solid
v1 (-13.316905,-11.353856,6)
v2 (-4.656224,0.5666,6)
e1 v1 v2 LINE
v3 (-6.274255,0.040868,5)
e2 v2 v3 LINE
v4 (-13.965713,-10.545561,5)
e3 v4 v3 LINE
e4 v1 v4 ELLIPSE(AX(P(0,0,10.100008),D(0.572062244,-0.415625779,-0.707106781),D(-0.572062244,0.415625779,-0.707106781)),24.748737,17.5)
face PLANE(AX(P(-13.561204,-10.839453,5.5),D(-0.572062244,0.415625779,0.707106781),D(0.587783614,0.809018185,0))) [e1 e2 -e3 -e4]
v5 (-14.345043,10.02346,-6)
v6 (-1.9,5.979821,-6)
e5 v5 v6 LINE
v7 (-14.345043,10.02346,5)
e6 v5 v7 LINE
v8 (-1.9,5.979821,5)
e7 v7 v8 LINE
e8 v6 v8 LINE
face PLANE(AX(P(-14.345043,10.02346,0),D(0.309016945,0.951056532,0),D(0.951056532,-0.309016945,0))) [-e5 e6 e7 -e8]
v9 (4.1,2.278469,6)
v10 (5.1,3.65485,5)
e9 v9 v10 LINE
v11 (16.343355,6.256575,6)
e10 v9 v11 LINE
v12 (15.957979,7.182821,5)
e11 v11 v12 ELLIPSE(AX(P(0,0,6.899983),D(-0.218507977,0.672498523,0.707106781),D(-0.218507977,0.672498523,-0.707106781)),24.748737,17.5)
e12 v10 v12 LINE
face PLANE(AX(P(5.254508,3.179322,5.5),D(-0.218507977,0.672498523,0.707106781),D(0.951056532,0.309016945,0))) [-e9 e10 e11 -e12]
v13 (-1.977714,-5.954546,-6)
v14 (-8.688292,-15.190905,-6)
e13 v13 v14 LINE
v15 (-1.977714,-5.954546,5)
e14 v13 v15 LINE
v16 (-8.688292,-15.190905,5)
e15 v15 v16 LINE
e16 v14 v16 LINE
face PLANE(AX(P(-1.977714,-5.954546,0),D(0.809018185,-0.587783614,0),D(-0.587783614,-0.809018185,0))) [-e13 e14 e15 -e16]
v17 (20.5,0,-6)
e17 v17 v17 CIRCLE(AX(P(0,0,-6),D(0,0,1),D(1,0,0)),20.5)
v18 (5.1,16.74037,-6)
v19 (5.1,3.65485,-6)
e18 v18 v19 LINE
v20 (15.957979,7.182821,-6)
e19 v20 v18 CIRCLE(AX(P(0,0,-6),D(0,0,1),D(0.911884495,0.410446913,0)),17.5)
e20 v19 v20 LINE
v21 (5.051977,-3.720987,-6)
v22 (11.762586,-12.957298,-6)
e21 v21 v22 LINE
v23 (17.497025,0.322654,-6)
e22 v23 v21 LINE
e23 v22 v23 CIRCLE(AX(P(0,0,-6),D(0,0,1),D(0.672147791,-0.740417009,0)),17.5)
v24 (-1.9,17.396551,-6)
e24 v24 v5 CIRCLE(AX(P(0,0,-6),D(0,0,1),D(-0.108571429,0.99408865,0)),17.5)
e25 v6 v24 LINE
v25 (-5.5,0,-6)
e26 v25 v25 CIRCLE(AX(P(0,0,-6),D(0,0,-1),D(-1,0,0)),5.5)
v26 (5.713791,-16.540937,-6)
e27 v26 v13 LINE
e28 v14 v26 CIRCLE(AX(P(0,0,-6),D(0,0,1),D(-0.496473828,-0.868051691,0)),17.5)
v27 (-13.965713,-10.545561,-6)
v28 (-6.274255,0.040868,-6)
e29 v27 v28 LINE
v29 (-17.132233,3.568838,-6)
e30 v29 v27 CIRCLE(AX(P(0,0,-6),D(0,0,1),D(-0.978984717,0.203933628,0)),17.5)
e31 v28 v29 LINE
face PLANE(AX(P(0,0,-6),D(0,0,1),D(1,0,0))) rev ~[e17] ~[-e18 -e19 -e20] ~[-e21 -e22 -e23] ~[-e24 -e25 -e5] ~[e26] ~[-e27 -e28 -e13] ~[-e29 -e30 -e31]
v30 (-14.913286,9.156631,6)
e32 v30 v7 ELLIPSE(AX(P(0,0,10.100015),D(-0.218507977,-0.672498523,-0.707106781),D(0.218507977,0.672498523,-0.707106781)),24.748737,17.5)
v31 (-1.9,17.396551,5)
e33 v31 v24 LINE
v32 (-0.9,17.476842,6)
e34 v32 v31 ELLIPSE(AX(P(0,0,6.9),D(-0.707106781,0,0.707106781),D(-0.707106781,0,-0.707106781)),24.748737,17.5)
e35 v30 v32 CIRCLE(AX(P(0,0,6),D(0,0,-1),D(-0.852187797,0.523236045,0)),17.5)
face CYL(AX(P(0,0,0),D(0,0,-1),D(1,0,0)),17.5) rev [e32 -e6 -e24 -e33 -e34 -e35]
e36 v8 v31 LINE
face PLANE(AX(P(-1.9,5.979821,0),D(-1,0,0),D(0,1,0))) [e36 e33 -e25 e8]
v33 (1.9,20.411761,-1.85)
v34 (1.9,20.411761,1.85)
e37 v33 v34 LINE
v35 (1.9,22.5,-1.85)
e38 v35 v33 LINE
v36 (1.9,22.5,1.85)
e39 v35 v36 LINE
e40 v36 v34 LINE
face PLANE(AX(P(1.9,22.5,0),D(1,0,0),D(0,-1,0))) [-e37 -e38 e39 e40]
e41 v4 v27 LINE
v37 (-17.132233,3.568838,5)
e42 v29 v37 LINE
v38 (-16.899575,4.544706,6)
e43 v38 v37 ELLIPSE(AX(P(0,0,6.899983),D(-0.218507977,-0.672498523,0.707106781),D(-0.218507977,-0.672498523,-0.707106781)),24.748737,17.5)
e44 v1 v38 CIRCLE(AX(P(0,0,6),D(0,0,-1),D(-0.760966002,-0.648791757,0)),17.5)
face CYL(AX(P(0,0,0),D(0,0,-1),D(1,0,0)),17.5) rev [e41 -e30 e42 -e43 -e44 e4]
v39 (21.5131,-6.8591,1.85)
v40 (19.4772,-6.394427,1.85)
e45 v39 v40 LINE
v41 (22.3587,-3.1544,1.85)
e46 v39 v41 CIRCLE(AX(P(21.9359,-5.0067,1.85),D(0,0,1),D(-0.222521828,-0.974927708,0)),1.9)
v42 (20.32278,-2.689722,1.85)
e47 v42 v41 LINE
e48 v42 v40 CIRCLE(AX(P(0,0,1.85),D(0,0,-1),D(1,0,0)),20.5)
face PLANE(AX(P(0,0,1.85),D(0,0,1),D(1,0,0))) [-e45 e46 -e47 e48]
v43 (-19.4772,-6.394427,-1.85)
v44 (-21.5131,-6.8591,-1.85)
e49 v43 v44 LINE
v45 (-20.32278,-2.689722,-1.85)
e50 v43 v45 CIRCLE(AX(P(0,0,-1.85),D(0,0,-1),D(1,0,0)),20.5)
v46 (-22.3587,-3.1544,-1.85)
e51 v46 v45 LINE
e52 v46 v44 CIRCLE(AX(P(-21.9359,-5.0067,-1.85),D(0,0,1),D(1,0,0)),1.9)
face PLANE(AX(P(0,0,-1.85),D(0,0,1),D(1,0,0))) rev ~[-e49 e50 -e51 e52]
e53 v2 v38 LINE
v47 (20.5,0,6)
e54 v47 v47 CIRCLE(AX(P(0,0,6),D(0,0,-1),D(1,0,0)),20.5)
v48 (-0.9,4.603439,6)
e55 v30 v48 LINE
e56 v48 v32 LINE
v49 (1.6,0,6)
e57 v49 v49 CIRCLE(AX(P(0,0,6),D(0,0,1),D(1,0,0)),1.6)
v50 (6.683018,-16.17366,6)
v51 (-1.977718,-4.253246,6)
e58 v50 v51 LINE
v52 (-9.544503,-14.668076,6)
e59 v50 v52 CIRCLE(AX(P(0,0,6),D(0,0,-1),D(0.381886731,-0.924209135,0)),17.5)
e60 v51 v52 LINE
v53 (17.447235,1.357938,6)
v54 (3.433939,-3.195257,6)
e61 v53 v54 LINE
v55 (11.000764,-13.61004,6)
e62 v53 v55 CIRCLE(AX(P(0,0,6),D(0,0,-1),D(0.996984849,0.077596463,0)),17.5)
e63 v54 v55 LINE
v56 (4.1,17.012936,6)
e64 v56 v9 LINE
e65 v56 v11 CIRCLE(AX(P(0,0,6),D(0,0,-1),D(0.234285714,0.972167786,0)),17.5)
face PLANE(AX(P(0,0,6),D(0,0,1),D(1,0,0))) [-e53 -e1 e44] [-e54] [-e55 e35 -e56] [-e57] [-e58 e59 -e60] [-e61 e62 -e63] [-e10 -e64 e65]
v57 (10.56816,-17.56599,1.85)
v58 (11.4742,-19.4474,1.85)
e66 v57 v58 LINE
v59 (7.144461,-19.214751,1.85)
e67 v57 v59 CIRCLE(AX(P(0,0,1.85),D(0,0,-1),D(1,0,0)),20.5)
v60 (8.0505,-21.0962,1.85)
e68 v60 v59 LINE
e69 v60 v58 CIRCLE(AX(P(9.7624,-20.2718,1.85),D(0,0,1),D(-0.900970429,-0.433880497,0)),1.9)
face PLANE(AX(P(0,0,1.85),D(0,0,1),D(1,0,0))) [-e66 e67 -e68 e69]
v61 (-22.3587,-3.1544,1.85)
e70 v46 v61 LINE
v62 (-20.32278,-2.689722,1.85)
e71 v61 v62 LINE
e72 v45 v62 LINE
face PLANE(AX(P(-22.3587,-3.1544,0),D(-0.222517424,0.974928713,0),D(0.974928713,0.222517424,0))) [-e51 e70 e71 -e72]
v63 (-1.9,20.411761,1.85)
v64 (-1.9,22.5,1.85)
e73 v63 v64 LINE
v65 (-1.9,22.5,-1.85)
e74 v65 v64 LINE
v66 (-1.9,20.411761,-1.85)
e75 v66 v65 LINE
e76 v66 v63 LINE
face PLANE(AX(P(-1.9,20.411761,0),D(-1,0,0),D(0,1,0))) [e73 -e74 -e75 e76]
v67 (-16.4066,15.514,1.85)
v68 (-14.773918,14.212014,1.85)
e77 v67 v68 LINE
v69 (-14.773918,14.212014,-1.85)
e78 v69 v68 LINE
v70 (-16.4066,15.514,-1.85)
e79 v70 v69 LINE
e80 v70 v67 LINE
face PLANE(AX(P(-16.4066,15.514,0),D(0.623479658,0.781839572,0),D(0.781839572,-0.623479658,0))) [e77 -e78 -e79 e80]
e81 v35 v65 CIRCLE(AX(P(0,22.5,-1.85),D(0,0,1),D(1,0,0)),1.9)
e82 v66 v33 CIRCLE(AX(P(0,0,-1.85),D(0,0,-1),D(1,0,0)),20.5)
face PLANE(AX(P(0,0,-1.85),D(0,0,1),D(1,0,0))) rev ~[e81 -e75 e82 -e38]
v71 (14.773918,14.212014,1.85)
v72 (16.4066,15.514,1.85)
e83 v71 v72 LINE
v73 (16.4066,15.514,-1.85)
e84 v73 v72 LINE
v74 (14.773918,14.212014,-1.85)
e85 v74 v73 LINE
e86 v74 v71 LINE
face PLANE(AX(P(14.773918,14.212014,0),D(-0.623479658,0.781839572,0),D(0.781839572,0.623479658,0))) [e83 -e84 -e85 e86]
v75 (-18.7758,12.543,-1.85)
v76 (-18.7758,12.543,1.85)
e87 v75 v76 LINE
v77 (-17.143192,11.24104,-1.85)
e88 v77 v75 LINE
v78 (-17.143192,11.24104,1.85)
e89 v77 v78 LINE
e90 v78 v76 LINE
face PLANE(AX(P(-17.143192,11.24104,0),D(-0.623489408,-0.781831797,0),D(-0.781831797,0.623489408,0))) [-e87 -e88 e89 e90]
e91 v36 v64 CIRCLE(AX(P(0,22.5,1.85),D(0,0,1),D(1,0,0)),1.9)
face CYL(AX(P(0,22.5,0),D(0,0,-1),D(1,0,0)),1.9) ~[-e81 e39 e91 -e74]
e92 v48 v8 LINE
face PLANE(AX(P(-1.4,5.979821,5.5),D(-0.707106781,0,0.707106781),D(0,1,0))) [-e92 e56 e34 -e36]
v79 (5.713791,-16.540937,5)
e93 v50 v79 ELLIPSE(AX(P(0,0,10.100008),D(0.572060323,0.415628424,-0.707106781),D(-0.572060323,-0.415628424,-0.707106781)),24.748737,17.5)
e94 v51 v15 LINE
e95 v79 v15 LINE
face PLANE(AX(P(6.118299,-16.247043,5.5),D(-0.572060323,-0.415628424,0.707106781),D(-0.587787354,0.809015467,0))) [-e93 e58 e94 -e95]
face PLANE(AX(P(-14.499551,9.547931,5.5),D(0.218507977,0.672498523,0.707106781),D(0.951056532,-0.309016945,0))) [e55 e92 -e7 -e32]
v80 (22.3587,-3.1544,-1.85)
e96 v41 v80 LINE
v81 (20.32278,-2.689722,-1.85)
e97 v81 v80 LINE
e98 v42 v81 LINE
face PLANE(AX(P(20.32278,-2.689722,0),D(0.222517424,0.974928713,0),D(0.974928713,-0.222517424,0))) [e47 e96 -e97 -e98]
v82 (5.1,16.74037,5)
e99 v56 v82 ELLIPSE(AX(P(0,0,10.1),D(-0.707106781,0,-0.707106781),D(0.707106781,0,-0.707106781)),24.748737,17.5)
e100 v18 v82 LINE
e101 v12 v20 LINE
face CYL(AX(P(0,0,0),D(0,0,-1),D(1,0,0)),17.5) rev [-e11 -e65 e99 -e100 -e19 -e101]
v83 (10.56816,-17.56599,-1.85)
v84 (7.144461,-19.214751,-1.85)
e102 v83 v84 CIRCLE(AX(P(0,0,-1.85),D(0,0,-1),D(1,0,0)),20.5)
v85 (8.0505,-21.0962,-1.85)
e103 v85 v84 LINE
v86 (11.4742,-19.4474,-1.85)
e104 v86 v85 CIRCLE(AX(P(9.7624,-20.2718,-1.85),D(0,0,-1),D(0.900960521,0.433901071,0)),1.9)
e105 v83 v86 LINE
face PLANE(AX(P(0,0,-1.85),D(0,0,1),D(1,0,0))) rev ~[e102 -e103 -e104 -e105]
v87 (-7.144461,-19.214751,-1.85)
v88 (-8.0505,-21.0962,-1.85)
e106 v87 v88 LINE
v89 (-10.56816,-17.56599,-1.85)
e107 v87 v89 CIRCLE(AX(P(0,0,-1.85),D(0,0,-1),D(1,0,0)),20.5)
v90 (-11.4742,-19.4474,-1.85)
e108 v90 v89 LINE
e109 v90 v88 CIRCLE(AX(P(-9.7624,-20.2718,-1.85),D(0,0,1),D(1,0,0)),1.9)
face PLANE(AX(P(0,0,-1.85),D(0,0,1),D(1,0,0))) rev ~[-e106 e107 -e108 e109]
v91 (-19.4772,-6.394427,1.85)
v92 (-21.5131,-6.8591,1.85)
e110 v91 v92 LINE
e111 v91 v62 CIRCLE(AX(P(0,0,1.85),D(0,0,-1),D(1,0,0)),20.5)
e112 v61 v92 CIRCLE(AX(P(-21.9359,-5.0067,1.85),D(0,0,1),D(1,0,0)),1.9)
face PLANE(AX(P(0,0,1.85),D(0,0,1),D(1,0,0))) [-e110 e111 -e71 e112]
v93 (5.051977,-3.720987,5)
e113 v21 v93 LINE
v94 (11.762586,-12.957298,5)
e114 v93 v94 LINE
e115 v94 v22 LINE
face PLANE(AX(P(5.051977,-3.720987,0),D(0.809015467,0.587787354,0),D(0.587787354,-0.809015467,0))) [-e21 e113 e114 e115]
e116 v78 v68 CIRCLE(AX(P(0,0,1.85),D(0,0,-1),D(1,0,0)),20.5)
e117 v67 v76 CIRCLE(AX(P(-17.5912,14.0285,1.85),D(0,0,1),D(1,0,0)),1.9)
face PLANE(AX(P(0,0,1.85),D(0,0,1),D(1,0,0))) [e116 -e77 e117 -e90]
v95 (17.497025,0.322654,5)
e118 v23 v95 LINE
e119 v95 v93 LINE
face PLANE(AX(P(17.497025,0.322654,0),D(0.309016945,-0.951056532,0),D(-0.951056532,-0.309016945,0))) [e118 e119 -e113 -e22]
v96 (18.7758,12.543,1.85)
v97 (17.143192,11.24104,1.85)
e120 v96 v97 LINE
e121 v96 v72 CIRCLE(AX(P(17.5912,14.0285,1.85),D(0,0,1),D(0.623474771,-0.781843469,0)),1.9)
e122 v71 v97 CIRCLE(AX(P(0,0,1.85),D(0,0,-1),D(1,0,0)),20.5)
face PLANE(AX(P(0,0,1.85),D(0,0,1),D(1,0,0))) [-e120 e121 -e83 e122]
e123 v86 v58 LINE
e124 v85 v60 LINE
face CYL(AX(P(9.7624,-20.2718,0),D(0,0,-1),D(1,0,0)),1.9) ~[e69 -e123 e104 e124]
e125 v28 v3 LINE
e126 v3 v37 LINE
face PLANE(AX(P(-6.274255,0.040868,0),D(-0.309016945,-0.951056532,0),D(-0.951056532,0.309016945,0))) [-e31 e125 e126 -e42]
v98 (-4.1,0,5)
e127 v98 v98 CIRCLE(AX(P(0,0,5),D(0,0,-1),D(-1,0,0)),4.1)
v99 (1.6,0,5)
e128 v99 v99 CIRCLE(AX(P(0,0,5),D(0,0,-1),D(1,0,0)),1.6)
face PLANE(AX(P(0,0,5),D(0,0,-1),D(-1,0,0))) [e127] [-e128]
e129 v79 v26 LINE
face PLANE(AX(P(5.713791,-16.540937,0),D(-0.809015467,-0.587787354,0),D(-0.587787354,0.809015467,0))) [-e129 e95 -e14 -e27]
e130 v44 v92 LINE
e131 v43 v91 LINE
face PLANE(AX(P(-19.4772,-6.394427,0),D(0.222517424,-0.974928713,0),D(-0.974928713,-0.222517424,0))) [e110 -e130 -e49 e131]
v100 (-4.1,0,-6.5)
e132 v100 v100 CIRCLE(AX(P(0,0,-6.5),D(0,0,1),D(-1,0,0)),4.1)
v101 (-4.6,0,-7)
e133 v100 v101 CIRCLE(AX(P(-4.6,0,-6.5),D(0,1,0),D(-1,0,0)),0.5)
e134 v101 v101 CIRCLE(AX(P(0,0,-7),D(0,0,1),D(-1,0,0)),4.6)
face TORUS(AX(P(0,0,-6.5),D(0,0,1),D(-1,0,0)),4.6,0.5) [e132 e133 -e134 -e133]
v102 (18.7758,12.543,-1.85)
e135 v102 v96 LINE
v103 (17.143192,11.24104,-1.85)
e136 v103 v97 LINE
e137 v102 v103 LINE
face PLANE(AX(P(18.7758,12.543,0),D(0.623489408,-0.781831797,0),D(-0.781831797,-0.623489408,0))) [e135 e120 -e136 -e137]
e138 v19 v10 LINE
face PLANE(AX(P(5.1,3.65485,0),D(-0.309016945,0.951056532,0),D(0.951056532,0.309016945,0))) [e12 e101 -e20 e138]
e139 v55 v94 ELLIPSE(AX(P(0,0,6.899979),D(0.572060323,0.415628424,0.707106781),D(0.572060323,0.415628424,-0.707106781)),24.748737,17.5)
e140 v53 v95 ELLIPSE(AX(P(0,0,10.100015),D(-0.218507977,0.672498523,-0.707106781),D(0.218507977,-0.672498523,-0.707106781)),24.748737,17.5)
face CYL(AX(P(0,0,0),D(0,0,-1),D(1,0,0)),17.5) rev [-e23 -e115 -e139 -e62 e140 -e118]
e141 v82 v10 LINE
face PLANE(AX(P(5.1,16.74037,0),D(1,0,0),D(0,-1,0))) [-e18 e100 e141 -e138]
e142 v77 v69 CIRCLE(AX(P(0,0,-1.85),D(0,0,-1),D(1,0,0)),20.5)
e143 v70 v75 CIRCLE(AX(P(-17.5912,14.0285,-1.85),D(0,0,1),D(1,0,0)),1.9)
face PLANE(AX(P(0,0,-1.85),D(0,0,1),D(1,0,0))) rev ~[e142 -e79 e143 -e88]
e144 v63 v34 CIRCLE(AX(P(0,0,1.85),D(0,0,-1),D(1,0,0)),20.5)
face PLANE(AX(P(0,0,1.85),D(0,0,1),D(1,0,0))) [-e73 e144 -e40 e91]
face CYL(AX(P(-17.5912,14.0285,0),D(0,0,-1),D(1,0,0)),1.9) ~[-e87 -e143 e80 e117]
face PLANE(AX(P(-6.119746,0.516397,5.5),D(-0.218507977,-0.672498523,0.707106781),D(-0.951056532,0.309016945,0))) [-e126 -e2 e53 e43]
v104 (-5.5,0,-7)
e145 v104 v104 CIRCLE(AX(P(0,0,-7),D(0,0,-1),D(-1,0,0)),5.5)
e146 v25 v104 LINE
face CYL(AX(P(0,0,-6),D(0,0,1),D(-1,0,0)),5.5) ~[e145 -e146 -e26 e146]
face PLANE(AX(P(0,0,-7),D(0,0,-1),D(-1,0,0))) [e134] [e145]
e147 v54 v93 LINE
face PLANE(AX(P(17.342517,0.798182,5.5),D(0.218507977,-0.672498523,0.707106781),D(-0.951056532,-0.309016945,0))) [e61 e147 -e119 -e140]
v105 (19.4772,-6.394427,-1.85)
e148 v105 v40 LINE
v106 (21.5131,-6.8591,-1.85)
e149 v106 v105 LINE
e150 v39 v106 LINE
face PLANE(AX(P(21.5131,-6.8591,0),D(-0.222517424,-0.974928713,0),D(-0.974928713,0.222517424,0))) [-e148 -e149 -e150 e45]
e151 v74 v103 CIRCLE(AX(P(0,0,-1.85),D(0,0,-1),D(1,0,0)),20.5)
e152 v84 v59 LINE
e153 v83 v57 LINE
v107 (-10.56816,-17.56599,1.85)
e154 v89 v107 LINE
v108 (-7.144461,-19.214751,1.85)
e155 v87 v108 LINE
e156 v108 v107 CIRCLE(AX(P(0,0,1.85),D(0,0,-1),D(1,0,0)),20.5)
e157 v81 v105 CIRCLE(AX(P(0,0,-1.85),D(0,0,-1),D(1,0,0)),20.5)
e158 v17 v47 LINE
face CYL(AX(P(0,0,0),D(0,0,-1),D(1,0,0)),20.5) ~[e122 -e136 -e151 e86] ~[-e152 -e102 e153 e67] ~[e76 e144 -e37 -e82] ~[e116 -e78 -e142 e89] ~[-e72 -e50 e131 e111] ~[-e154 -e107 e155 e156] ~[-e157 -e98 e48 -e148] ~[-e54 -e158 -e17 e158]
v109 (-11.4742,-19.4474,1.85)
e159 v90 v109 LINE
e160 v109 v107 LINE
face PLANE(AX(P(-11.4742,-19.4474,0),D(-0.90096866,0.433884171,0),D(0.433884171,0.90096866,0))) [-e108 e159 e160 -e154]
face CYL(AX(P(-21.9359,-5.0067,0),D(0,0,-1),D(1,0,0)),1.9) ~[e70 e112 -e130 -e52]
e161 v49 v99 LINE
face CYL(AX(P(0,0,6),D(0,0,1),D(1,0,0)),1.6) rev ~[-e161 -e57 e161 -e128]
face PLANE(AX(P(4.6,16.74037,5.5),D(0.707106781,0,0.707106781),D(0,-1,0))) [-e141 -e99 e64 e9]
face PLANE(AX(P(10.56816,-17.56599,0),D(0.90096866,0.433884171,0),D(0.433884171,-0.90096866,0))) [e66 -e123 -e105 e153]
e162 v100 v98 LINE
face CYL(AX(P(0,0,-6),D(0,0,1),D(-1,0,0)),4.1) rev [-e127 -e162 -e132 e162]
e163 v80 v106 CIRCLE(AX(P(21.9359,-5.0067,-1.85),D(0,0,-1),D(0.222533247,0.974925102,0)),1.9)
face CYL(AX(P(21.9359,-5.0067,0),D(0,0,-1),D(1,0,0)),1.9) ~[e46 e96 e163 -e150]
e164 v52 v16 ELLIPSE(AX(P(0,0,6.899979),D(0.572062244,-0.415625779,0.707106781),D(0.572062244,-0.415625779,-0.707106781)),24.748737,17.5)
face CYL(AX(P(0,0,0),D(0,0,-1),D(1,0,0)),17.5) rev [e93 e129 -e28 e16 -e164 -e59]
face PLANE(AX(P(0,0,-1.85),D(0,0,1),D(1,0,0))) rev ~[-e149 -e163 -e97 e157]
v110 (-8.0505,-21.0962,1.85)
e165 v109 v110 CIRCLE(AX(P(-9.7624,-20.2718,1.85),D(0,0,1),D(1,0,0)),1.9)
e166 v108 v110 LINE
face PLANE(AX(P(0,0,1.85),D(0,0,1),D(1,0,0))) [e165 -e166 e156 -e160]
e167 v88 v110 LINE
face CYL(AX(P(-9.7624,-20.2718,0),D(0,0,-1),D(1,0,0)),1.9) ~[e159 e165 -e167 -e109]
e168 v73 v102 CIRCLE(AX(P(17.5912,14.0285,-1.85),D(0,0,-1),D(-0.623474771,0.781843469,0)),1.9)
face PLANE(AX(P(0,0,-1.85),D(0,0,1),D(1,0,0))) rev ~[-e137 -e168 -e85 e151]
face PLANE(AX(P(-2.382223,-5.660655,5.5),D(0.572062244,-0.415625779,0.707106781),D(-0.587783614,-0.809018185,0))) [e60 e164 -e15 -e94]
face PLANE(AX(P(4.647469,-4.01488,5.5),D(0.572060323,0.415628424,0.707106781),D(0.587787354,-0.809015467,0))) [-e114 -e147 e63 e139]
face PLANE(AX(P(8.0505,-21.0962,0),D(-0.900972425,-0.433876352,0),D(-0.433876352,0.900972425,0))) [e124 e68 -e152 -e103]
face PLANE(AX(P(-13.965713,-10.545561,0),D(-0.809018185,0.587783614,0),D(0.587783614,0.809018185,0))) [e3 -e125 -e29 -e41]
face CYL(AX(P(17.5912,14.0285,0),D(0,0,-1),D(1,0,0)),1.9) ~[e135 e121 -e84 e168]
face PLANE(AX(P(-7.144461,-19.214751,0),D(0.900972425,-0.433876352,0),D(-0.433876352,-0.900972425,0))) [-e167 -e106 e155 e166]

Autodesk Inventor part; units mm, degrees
ref_plane "YZ Plane" through (0, 0, 0) normal (1, 0, 0) x (0, 1, 0)
ref_plane "XZ Plane" through (0, 0, 0) normal (0, 1, 0) x (-1, 0, 0)
ref_plane "XY Plane" through (0, 0, 0) normal (0, 0, 1) x (1, 0, 0)
sketch "Sketch1" plane through (0, 0, 0) normal (0, 0, 1) x (1, 0, 0)
  circle A0 centre (0, 0) radius 20.5
  circle A1 centre (0, 0) radius 17.5
  line L0 (-1.9, 17.5) -> (1.9, 17.5)
  line L1 (-1.9, 17.5) -> (-1.9, 22.5)
  line L2 (-1.9, 22.5) -> (1.9, 22.5)
  line L3 (1.9, 22.5) -> (1.9, 17.5)
  circle A2 centre (0, 22.5) radius 1.9
  circle A3 centre (-17.5912, 14.0285) radius 1.9
  line L4 (-16.4066, 15.514) -> (-12.4974, 12.3966)
  line L5 (-18.7758, 12.543) -> (-16.4066, 15.514)
  line L6 (-14.8667, 9.4256) -> (-18.7758, 12.543)
  line L7 (-14.8667, 9.4256) -> (-12.4974, 12.3966)
  circle A4 centre (-21.9359, -5.0067) radius 1.9
  line L8 (-22.3587, -3.1544) -> (-17.484, -2.0418)
  line L9 (-21.5131, -6.8591) -> (-22.3587, -3.1544)
  line L10 (-16.6384, -5.7465) -> (-21.5131, -6.8591)
  line L11 (-16.6384, -5.7465) -> (-17.484, -2.0418)
  circle A5 centre (-9.7624, -20.2718) radius 1.9
  line L12 (-11.4742, -19.4474) -> (-9.3048, -14.9426)
  line L13 (-8.0505, -21.0962) -> (-11.4742, -19.4474)
  line L14 (-5.8811, -16.5913) -> (-8.0505, -21.0962)
  line L15 (-5.8811, -16.5913) -> (-9.3048, -14.9426)
  circle A6 centre (9.7624, -20.2718) radius 1.9
  line L16 (8.0505, -21.0962) -> (5.8811, -16.5913)
  line L17 (11.4742, -19.4474) -> (8.0505, -21.0962)
  line L18 (9.3048, -14.9426) -> (11.4742, -19.4474)
  line L19 (9.3048, -14.9426) -> (5.8811, -16.5913)
  circle A7 centre (21.9359, -5.0067) radius 1.9
  line L20 (21.5131, -6.8591) -> (16.6384, -5.7465)
  line L21 (22.3587, -3.1544) -> (21.5131, -6.8591)
  line L22 (17.484, -2.0418) -> (22.3587, -3.1544)
  line L23 (17.484, -2.0418) -> (16.6384, -5.7465)
  circle A8 centre (17.5912, 14.0285) radius 1.9
  line L24 (18.7758, 12.543) -> (14.8667, 9.4256)
  line L25 (16.4066, 15.514) -> (18.7758, 12.543)
  line L26 (12.4974, 12.3966) -> (16.4066, 15.514)
  line L27 (12.4974, 12.3966) -> (14.8667, 9.4256)
  line L28 (-1.9, 17.5) -> (5.1, 17.5)
  line L29 (5.1, 17.5) -> (5.1, 0)
  line L30 (5.1, 0) -> (-1.9, 0)
  line L31 (-1.9, 0) -> (-1.9, 17.5)
  line L32 (-0.5871, -1.807) -> (-17.2306, 3.6008)
  line L33 (-17.2306, 3.6008) -> (-15.0675, 10.2582)
  line L34 (-15.0675, 10.2582) -> (1.576, 4.8504)
  line L35 (1.576, 4.8504) -> (-0.5871, -1.807)
  line L36 (1.5371, -1.1168) -> (-8.7491, -15.2746)
  line L37 (-8.7491, -15.2746) -> (-14.4122, -11.1601)
  line L38 (-14.4122, -11.1601) -> (-4.126, 2.9977)
  line L39 (-4.126, 2.9977) -> (1.5371, -1.1168)
  line L40 (1.5371, 1.1168) -> (11.8234, -13.041)
  line L41 (11.8234, -13.041) -> (6.1603, -17.1555)
  line L42 (6.1603, -17.1555) -> (-4.126, -2.9977)
  line L43 (-4.126, -2.9977) -> (1.5371, 1.1168)
  line L44 (-0.5871, 1.807) -> (16.0564, 7.2148)
  line L45 (16.0564, 7.2148) -> (18.2195, 0.5574)
  line L46 (18.2195, 0.5574) -> (1.576, -4.8504)
  line L47 (1.576, -4.8504) -> (-0.5871, 1.807)
  point P0 (-17.1432, 11.241)
  point P1 (-20.3228, -2.6897)
  point P2 (-21.5131, -6.8591)
  point P3 (-19.4772, -6.3944)
  point P4 (-10.5682, -17.566)
  point P5 (-7.1445, -19.2147)
  point P6 (7.1445, -19.2147)
  point P7 (10.5682, -17.566)
  point P8 (19.4772, -6.3944)
  point P9 (22.3587, -3.1544)
  point P10 (20.3228, -2.6897)
  point P11 (17.1432, 11.241)
  point P12 (16.4066, 15.514)
  point P13 (14.7739, 14.212)
  point P14 (1.9, 20.4118)
  point P15 (-1.9, 20.4118)
  point P16 (-14.7739, 14.212)
  point P17 (-17.1322, 3.5688)
  point P18 (-6.2743, 0.0409)
  point P19 (-13.9657, -10.5455)
  point P20 (11.7626, -12.9573)
  point P21 (5.052, -3.721)
  point P22 (17.497, 0.3227)
  point P23 (15.958, 7.1828)
  point P24 (5.1, 3.6549)
  point P25 (5.1, 16.7404)
  point P26 (-8.6883, -15.1909)
  point P27 (-1.9777, -5.9546)
  point P28 (5.7138, -16.5409)
  point P29 (-1.9, 17.3966)
  point P30 (-1.9, 5.9798)
  point P31 (-14.3451, 10.0234)
  point P32 (16.4066, 15.514)
  point P33 (22.3587, -3.1544)
  point P34 (11.4742, -19.4474)
  point P35 (-21.5131, -6.8591)
  dimension "d0" = 35
  dimension "d1" = 41
  dimension "d2" = 3.8
  dimension "d4" = 1.9
  dimension "d5" = 17.5
  dimension "d6" = 5
  dimension "d7" = 3.8
  dimension "d11" = 360
  dimension "d13" = 7
  dimension "d14" = 17.5
  dimension "d17" = 360
extrude "Extrusion1" add sketch "Sketch1" along normal mid plane 12 contours A0 L22 L23 A1 L46 L45 L44 L27 L24 | L24 L27 L26 A0 | A0 L20 L23 L22 | L26 L27 A1 L29 L28 L3 A0 | A0 L18 L19 L41 L40 A1 L23 L20 | L3 L0 L1 A0 | A0 L16 L42 L41 L19 L18 | L1 L31 A1 L7 L4 A0 | L28 L29 A1 L0 | L44 L45 A1 | A1 L46 L40 L30 L29 L44 | L29 L44 L35 L34 L31 A1 | A0 L14 L15 A1 L42 L16 | L40 L41 A1 | A1 L42 L36 L47 L46 L40 | L4 L7 L34 L33 L6 A0 | L0 A1 L31 | L45 L46 A1 | L29 L30 L40 L43 L35 L44 | A0 L12 L15 L37 L36 L14 | L42 A1 L19 L16 | L16 L19 L41 L42 | L19 A1 L41 | L46 L47 L36 L39 L30 L40 | L6 L33 L32 A1 L11 L8 A0 | L44 L47 L39 L31 L34 L35 | L35 L47 L44 | A0 L10 L11 A1 L38 L37 L15 L12 | L30 L43 L40 | L8 L11 L10 A0 | L33 L34 L7 L6 | L6 L7 L34 A1 L33 | A1 L34 L7 | L31 L39 L38 L32 A1 L34 | L43 L32 L38 L39 L31 L30 | L47 L36 L42 L43 L32 L35 | L30 L31 L39 | L35 L32 L43 | L39 L36 L47 | L15 L36 A1 | L36 A1 L38 L32 L43 L42 | A1 L32 L33 | L37 A1 L36 L15 | L15 L36 L37 | L37 L38 A1
extrude "Extrusion2" add sketch "Sketch1" along normal mid plane 3.7 contours A0 L22 L23 A1 L46 L45 L44 L27 L24 | L24 L27 L26 A0 | A0 L26 A8 L24 | L22 A7 L20 A0 | A0 L20 L23 L22 | L26 L27 A1 L29 L28 L3 A0 | L25 A8 | A8 L25 | A0 L18 L19 L41 L40 A1 L23 L20 | L21 A7 | A7 L21 | L3 L0 L1 A0 | A0 L1 A2 L3 | L18 A6 L16 A0 | A0 L16 L42 L41 L19 L18 | L1 L31 A1 L7 L4 A0 | A2 L2 | L2 A2 | L28 L29 A1 L0 | L44 L45 A1 | A1 L46 L40 L30 L29 L44 | L29 L44 L35 L34 L31 A1 | A0 L14 L15 A1 L42 L16 | L17 A6 | A6 L17 | L40 L41 A1 | A1 L42 L36 L47 L46 L40 | L4 L7 L34 L33 L6 A0 | A0 L6 A3 L4 | L0 A1 L31 | L45 L46 A1 | L29 L30 L40 L43 L35 L44 | L14 A5 L12 A0 | A0 L12 L15 L37 L36 L14 | L42 A1 L19 L16 | L16 L19 L41 L42 | L19 A1 L41 | L46 L47 L36 L39 L30 L40 | L6 L33 L32 A1 L11 L8 A0 | L5 A3 | A3 L5 | L44 L47 L39 L31 L34 L35 | L35 L47 L44 | A0 L10 L11 A1 L38 L37 L15 L12 | L13 A5 | A5 L13 | L30 L43 L40 | L8 L11 L10 A0 | A0 L10 A4 L8 | L33 L34 L7 L6 | L6 L7 L34 A1 L33 | A1 L34 L7 | L31 L39 L38 L32 A1 L34 | L43 L32 L38 L39 L31 L30 | L47 L36 L42 L43 L32 L35 | L30 L31 L39 | L35 L32 L43 | L39 L36 L47 | L15 L36 A1 | L36 A1 L38 L32 L43 L42 | L9 A4 | A4 L9 | A1 L32 L33 | L37 A1 L36 L15 | L15 L36 L37 | L37 L38 A1
sketch "Sketch2" plane through (0, 0, -6) normal (0, 0, -1) x (-1, 0, 0)
  circle A0 centre (0, 0) radius 1.6
  circle A1 centre (0, 0) radius 5.5
  circle A2 centre (0, 0) radius 4.1
  dimension "d23" = 3.2
  dimension "d24" = 11
  dimension "d59" = 8.2
extrude "Extrusion3" add sketch "Sketch2" along normal blind 1 contours A0 | A1 | A2
chamfer "Chamfer1" distance 1 angle 45 10 edges at (11.2745, -1.6992, 6) (10.529, 5.4189, 6) (5.1, 10.1976, 6) (-1.9, 11.6882, 6) (-8.1225, 8.0016, 6) (-11.7033, 1.8048, 6) (-10.12, -5.2523, 6) (-5.333, -10.5727, 6) (1.868, -11.2478, 6) (8.4073, -8.3391, 6)
sketch "Sketch4" plane through (0, 0, 6) normal (0, 0, 1) x (1, 0, 0)
  circle A0 centre (0, 0) radius 1.6
  dimension "d60" = 3.2
extrude "Extrusion8" cut sketch "Sketch2" along normal blind 10 and the other way blind 11 contours A2
extrude "Extrusion9" cut sketch "Sketch4" against normal up to surface (13 mm away)
fillet "Fillet2" radius 0.5 1 edges at (4.1, 0, -7)
properties part number "wheel_big"
